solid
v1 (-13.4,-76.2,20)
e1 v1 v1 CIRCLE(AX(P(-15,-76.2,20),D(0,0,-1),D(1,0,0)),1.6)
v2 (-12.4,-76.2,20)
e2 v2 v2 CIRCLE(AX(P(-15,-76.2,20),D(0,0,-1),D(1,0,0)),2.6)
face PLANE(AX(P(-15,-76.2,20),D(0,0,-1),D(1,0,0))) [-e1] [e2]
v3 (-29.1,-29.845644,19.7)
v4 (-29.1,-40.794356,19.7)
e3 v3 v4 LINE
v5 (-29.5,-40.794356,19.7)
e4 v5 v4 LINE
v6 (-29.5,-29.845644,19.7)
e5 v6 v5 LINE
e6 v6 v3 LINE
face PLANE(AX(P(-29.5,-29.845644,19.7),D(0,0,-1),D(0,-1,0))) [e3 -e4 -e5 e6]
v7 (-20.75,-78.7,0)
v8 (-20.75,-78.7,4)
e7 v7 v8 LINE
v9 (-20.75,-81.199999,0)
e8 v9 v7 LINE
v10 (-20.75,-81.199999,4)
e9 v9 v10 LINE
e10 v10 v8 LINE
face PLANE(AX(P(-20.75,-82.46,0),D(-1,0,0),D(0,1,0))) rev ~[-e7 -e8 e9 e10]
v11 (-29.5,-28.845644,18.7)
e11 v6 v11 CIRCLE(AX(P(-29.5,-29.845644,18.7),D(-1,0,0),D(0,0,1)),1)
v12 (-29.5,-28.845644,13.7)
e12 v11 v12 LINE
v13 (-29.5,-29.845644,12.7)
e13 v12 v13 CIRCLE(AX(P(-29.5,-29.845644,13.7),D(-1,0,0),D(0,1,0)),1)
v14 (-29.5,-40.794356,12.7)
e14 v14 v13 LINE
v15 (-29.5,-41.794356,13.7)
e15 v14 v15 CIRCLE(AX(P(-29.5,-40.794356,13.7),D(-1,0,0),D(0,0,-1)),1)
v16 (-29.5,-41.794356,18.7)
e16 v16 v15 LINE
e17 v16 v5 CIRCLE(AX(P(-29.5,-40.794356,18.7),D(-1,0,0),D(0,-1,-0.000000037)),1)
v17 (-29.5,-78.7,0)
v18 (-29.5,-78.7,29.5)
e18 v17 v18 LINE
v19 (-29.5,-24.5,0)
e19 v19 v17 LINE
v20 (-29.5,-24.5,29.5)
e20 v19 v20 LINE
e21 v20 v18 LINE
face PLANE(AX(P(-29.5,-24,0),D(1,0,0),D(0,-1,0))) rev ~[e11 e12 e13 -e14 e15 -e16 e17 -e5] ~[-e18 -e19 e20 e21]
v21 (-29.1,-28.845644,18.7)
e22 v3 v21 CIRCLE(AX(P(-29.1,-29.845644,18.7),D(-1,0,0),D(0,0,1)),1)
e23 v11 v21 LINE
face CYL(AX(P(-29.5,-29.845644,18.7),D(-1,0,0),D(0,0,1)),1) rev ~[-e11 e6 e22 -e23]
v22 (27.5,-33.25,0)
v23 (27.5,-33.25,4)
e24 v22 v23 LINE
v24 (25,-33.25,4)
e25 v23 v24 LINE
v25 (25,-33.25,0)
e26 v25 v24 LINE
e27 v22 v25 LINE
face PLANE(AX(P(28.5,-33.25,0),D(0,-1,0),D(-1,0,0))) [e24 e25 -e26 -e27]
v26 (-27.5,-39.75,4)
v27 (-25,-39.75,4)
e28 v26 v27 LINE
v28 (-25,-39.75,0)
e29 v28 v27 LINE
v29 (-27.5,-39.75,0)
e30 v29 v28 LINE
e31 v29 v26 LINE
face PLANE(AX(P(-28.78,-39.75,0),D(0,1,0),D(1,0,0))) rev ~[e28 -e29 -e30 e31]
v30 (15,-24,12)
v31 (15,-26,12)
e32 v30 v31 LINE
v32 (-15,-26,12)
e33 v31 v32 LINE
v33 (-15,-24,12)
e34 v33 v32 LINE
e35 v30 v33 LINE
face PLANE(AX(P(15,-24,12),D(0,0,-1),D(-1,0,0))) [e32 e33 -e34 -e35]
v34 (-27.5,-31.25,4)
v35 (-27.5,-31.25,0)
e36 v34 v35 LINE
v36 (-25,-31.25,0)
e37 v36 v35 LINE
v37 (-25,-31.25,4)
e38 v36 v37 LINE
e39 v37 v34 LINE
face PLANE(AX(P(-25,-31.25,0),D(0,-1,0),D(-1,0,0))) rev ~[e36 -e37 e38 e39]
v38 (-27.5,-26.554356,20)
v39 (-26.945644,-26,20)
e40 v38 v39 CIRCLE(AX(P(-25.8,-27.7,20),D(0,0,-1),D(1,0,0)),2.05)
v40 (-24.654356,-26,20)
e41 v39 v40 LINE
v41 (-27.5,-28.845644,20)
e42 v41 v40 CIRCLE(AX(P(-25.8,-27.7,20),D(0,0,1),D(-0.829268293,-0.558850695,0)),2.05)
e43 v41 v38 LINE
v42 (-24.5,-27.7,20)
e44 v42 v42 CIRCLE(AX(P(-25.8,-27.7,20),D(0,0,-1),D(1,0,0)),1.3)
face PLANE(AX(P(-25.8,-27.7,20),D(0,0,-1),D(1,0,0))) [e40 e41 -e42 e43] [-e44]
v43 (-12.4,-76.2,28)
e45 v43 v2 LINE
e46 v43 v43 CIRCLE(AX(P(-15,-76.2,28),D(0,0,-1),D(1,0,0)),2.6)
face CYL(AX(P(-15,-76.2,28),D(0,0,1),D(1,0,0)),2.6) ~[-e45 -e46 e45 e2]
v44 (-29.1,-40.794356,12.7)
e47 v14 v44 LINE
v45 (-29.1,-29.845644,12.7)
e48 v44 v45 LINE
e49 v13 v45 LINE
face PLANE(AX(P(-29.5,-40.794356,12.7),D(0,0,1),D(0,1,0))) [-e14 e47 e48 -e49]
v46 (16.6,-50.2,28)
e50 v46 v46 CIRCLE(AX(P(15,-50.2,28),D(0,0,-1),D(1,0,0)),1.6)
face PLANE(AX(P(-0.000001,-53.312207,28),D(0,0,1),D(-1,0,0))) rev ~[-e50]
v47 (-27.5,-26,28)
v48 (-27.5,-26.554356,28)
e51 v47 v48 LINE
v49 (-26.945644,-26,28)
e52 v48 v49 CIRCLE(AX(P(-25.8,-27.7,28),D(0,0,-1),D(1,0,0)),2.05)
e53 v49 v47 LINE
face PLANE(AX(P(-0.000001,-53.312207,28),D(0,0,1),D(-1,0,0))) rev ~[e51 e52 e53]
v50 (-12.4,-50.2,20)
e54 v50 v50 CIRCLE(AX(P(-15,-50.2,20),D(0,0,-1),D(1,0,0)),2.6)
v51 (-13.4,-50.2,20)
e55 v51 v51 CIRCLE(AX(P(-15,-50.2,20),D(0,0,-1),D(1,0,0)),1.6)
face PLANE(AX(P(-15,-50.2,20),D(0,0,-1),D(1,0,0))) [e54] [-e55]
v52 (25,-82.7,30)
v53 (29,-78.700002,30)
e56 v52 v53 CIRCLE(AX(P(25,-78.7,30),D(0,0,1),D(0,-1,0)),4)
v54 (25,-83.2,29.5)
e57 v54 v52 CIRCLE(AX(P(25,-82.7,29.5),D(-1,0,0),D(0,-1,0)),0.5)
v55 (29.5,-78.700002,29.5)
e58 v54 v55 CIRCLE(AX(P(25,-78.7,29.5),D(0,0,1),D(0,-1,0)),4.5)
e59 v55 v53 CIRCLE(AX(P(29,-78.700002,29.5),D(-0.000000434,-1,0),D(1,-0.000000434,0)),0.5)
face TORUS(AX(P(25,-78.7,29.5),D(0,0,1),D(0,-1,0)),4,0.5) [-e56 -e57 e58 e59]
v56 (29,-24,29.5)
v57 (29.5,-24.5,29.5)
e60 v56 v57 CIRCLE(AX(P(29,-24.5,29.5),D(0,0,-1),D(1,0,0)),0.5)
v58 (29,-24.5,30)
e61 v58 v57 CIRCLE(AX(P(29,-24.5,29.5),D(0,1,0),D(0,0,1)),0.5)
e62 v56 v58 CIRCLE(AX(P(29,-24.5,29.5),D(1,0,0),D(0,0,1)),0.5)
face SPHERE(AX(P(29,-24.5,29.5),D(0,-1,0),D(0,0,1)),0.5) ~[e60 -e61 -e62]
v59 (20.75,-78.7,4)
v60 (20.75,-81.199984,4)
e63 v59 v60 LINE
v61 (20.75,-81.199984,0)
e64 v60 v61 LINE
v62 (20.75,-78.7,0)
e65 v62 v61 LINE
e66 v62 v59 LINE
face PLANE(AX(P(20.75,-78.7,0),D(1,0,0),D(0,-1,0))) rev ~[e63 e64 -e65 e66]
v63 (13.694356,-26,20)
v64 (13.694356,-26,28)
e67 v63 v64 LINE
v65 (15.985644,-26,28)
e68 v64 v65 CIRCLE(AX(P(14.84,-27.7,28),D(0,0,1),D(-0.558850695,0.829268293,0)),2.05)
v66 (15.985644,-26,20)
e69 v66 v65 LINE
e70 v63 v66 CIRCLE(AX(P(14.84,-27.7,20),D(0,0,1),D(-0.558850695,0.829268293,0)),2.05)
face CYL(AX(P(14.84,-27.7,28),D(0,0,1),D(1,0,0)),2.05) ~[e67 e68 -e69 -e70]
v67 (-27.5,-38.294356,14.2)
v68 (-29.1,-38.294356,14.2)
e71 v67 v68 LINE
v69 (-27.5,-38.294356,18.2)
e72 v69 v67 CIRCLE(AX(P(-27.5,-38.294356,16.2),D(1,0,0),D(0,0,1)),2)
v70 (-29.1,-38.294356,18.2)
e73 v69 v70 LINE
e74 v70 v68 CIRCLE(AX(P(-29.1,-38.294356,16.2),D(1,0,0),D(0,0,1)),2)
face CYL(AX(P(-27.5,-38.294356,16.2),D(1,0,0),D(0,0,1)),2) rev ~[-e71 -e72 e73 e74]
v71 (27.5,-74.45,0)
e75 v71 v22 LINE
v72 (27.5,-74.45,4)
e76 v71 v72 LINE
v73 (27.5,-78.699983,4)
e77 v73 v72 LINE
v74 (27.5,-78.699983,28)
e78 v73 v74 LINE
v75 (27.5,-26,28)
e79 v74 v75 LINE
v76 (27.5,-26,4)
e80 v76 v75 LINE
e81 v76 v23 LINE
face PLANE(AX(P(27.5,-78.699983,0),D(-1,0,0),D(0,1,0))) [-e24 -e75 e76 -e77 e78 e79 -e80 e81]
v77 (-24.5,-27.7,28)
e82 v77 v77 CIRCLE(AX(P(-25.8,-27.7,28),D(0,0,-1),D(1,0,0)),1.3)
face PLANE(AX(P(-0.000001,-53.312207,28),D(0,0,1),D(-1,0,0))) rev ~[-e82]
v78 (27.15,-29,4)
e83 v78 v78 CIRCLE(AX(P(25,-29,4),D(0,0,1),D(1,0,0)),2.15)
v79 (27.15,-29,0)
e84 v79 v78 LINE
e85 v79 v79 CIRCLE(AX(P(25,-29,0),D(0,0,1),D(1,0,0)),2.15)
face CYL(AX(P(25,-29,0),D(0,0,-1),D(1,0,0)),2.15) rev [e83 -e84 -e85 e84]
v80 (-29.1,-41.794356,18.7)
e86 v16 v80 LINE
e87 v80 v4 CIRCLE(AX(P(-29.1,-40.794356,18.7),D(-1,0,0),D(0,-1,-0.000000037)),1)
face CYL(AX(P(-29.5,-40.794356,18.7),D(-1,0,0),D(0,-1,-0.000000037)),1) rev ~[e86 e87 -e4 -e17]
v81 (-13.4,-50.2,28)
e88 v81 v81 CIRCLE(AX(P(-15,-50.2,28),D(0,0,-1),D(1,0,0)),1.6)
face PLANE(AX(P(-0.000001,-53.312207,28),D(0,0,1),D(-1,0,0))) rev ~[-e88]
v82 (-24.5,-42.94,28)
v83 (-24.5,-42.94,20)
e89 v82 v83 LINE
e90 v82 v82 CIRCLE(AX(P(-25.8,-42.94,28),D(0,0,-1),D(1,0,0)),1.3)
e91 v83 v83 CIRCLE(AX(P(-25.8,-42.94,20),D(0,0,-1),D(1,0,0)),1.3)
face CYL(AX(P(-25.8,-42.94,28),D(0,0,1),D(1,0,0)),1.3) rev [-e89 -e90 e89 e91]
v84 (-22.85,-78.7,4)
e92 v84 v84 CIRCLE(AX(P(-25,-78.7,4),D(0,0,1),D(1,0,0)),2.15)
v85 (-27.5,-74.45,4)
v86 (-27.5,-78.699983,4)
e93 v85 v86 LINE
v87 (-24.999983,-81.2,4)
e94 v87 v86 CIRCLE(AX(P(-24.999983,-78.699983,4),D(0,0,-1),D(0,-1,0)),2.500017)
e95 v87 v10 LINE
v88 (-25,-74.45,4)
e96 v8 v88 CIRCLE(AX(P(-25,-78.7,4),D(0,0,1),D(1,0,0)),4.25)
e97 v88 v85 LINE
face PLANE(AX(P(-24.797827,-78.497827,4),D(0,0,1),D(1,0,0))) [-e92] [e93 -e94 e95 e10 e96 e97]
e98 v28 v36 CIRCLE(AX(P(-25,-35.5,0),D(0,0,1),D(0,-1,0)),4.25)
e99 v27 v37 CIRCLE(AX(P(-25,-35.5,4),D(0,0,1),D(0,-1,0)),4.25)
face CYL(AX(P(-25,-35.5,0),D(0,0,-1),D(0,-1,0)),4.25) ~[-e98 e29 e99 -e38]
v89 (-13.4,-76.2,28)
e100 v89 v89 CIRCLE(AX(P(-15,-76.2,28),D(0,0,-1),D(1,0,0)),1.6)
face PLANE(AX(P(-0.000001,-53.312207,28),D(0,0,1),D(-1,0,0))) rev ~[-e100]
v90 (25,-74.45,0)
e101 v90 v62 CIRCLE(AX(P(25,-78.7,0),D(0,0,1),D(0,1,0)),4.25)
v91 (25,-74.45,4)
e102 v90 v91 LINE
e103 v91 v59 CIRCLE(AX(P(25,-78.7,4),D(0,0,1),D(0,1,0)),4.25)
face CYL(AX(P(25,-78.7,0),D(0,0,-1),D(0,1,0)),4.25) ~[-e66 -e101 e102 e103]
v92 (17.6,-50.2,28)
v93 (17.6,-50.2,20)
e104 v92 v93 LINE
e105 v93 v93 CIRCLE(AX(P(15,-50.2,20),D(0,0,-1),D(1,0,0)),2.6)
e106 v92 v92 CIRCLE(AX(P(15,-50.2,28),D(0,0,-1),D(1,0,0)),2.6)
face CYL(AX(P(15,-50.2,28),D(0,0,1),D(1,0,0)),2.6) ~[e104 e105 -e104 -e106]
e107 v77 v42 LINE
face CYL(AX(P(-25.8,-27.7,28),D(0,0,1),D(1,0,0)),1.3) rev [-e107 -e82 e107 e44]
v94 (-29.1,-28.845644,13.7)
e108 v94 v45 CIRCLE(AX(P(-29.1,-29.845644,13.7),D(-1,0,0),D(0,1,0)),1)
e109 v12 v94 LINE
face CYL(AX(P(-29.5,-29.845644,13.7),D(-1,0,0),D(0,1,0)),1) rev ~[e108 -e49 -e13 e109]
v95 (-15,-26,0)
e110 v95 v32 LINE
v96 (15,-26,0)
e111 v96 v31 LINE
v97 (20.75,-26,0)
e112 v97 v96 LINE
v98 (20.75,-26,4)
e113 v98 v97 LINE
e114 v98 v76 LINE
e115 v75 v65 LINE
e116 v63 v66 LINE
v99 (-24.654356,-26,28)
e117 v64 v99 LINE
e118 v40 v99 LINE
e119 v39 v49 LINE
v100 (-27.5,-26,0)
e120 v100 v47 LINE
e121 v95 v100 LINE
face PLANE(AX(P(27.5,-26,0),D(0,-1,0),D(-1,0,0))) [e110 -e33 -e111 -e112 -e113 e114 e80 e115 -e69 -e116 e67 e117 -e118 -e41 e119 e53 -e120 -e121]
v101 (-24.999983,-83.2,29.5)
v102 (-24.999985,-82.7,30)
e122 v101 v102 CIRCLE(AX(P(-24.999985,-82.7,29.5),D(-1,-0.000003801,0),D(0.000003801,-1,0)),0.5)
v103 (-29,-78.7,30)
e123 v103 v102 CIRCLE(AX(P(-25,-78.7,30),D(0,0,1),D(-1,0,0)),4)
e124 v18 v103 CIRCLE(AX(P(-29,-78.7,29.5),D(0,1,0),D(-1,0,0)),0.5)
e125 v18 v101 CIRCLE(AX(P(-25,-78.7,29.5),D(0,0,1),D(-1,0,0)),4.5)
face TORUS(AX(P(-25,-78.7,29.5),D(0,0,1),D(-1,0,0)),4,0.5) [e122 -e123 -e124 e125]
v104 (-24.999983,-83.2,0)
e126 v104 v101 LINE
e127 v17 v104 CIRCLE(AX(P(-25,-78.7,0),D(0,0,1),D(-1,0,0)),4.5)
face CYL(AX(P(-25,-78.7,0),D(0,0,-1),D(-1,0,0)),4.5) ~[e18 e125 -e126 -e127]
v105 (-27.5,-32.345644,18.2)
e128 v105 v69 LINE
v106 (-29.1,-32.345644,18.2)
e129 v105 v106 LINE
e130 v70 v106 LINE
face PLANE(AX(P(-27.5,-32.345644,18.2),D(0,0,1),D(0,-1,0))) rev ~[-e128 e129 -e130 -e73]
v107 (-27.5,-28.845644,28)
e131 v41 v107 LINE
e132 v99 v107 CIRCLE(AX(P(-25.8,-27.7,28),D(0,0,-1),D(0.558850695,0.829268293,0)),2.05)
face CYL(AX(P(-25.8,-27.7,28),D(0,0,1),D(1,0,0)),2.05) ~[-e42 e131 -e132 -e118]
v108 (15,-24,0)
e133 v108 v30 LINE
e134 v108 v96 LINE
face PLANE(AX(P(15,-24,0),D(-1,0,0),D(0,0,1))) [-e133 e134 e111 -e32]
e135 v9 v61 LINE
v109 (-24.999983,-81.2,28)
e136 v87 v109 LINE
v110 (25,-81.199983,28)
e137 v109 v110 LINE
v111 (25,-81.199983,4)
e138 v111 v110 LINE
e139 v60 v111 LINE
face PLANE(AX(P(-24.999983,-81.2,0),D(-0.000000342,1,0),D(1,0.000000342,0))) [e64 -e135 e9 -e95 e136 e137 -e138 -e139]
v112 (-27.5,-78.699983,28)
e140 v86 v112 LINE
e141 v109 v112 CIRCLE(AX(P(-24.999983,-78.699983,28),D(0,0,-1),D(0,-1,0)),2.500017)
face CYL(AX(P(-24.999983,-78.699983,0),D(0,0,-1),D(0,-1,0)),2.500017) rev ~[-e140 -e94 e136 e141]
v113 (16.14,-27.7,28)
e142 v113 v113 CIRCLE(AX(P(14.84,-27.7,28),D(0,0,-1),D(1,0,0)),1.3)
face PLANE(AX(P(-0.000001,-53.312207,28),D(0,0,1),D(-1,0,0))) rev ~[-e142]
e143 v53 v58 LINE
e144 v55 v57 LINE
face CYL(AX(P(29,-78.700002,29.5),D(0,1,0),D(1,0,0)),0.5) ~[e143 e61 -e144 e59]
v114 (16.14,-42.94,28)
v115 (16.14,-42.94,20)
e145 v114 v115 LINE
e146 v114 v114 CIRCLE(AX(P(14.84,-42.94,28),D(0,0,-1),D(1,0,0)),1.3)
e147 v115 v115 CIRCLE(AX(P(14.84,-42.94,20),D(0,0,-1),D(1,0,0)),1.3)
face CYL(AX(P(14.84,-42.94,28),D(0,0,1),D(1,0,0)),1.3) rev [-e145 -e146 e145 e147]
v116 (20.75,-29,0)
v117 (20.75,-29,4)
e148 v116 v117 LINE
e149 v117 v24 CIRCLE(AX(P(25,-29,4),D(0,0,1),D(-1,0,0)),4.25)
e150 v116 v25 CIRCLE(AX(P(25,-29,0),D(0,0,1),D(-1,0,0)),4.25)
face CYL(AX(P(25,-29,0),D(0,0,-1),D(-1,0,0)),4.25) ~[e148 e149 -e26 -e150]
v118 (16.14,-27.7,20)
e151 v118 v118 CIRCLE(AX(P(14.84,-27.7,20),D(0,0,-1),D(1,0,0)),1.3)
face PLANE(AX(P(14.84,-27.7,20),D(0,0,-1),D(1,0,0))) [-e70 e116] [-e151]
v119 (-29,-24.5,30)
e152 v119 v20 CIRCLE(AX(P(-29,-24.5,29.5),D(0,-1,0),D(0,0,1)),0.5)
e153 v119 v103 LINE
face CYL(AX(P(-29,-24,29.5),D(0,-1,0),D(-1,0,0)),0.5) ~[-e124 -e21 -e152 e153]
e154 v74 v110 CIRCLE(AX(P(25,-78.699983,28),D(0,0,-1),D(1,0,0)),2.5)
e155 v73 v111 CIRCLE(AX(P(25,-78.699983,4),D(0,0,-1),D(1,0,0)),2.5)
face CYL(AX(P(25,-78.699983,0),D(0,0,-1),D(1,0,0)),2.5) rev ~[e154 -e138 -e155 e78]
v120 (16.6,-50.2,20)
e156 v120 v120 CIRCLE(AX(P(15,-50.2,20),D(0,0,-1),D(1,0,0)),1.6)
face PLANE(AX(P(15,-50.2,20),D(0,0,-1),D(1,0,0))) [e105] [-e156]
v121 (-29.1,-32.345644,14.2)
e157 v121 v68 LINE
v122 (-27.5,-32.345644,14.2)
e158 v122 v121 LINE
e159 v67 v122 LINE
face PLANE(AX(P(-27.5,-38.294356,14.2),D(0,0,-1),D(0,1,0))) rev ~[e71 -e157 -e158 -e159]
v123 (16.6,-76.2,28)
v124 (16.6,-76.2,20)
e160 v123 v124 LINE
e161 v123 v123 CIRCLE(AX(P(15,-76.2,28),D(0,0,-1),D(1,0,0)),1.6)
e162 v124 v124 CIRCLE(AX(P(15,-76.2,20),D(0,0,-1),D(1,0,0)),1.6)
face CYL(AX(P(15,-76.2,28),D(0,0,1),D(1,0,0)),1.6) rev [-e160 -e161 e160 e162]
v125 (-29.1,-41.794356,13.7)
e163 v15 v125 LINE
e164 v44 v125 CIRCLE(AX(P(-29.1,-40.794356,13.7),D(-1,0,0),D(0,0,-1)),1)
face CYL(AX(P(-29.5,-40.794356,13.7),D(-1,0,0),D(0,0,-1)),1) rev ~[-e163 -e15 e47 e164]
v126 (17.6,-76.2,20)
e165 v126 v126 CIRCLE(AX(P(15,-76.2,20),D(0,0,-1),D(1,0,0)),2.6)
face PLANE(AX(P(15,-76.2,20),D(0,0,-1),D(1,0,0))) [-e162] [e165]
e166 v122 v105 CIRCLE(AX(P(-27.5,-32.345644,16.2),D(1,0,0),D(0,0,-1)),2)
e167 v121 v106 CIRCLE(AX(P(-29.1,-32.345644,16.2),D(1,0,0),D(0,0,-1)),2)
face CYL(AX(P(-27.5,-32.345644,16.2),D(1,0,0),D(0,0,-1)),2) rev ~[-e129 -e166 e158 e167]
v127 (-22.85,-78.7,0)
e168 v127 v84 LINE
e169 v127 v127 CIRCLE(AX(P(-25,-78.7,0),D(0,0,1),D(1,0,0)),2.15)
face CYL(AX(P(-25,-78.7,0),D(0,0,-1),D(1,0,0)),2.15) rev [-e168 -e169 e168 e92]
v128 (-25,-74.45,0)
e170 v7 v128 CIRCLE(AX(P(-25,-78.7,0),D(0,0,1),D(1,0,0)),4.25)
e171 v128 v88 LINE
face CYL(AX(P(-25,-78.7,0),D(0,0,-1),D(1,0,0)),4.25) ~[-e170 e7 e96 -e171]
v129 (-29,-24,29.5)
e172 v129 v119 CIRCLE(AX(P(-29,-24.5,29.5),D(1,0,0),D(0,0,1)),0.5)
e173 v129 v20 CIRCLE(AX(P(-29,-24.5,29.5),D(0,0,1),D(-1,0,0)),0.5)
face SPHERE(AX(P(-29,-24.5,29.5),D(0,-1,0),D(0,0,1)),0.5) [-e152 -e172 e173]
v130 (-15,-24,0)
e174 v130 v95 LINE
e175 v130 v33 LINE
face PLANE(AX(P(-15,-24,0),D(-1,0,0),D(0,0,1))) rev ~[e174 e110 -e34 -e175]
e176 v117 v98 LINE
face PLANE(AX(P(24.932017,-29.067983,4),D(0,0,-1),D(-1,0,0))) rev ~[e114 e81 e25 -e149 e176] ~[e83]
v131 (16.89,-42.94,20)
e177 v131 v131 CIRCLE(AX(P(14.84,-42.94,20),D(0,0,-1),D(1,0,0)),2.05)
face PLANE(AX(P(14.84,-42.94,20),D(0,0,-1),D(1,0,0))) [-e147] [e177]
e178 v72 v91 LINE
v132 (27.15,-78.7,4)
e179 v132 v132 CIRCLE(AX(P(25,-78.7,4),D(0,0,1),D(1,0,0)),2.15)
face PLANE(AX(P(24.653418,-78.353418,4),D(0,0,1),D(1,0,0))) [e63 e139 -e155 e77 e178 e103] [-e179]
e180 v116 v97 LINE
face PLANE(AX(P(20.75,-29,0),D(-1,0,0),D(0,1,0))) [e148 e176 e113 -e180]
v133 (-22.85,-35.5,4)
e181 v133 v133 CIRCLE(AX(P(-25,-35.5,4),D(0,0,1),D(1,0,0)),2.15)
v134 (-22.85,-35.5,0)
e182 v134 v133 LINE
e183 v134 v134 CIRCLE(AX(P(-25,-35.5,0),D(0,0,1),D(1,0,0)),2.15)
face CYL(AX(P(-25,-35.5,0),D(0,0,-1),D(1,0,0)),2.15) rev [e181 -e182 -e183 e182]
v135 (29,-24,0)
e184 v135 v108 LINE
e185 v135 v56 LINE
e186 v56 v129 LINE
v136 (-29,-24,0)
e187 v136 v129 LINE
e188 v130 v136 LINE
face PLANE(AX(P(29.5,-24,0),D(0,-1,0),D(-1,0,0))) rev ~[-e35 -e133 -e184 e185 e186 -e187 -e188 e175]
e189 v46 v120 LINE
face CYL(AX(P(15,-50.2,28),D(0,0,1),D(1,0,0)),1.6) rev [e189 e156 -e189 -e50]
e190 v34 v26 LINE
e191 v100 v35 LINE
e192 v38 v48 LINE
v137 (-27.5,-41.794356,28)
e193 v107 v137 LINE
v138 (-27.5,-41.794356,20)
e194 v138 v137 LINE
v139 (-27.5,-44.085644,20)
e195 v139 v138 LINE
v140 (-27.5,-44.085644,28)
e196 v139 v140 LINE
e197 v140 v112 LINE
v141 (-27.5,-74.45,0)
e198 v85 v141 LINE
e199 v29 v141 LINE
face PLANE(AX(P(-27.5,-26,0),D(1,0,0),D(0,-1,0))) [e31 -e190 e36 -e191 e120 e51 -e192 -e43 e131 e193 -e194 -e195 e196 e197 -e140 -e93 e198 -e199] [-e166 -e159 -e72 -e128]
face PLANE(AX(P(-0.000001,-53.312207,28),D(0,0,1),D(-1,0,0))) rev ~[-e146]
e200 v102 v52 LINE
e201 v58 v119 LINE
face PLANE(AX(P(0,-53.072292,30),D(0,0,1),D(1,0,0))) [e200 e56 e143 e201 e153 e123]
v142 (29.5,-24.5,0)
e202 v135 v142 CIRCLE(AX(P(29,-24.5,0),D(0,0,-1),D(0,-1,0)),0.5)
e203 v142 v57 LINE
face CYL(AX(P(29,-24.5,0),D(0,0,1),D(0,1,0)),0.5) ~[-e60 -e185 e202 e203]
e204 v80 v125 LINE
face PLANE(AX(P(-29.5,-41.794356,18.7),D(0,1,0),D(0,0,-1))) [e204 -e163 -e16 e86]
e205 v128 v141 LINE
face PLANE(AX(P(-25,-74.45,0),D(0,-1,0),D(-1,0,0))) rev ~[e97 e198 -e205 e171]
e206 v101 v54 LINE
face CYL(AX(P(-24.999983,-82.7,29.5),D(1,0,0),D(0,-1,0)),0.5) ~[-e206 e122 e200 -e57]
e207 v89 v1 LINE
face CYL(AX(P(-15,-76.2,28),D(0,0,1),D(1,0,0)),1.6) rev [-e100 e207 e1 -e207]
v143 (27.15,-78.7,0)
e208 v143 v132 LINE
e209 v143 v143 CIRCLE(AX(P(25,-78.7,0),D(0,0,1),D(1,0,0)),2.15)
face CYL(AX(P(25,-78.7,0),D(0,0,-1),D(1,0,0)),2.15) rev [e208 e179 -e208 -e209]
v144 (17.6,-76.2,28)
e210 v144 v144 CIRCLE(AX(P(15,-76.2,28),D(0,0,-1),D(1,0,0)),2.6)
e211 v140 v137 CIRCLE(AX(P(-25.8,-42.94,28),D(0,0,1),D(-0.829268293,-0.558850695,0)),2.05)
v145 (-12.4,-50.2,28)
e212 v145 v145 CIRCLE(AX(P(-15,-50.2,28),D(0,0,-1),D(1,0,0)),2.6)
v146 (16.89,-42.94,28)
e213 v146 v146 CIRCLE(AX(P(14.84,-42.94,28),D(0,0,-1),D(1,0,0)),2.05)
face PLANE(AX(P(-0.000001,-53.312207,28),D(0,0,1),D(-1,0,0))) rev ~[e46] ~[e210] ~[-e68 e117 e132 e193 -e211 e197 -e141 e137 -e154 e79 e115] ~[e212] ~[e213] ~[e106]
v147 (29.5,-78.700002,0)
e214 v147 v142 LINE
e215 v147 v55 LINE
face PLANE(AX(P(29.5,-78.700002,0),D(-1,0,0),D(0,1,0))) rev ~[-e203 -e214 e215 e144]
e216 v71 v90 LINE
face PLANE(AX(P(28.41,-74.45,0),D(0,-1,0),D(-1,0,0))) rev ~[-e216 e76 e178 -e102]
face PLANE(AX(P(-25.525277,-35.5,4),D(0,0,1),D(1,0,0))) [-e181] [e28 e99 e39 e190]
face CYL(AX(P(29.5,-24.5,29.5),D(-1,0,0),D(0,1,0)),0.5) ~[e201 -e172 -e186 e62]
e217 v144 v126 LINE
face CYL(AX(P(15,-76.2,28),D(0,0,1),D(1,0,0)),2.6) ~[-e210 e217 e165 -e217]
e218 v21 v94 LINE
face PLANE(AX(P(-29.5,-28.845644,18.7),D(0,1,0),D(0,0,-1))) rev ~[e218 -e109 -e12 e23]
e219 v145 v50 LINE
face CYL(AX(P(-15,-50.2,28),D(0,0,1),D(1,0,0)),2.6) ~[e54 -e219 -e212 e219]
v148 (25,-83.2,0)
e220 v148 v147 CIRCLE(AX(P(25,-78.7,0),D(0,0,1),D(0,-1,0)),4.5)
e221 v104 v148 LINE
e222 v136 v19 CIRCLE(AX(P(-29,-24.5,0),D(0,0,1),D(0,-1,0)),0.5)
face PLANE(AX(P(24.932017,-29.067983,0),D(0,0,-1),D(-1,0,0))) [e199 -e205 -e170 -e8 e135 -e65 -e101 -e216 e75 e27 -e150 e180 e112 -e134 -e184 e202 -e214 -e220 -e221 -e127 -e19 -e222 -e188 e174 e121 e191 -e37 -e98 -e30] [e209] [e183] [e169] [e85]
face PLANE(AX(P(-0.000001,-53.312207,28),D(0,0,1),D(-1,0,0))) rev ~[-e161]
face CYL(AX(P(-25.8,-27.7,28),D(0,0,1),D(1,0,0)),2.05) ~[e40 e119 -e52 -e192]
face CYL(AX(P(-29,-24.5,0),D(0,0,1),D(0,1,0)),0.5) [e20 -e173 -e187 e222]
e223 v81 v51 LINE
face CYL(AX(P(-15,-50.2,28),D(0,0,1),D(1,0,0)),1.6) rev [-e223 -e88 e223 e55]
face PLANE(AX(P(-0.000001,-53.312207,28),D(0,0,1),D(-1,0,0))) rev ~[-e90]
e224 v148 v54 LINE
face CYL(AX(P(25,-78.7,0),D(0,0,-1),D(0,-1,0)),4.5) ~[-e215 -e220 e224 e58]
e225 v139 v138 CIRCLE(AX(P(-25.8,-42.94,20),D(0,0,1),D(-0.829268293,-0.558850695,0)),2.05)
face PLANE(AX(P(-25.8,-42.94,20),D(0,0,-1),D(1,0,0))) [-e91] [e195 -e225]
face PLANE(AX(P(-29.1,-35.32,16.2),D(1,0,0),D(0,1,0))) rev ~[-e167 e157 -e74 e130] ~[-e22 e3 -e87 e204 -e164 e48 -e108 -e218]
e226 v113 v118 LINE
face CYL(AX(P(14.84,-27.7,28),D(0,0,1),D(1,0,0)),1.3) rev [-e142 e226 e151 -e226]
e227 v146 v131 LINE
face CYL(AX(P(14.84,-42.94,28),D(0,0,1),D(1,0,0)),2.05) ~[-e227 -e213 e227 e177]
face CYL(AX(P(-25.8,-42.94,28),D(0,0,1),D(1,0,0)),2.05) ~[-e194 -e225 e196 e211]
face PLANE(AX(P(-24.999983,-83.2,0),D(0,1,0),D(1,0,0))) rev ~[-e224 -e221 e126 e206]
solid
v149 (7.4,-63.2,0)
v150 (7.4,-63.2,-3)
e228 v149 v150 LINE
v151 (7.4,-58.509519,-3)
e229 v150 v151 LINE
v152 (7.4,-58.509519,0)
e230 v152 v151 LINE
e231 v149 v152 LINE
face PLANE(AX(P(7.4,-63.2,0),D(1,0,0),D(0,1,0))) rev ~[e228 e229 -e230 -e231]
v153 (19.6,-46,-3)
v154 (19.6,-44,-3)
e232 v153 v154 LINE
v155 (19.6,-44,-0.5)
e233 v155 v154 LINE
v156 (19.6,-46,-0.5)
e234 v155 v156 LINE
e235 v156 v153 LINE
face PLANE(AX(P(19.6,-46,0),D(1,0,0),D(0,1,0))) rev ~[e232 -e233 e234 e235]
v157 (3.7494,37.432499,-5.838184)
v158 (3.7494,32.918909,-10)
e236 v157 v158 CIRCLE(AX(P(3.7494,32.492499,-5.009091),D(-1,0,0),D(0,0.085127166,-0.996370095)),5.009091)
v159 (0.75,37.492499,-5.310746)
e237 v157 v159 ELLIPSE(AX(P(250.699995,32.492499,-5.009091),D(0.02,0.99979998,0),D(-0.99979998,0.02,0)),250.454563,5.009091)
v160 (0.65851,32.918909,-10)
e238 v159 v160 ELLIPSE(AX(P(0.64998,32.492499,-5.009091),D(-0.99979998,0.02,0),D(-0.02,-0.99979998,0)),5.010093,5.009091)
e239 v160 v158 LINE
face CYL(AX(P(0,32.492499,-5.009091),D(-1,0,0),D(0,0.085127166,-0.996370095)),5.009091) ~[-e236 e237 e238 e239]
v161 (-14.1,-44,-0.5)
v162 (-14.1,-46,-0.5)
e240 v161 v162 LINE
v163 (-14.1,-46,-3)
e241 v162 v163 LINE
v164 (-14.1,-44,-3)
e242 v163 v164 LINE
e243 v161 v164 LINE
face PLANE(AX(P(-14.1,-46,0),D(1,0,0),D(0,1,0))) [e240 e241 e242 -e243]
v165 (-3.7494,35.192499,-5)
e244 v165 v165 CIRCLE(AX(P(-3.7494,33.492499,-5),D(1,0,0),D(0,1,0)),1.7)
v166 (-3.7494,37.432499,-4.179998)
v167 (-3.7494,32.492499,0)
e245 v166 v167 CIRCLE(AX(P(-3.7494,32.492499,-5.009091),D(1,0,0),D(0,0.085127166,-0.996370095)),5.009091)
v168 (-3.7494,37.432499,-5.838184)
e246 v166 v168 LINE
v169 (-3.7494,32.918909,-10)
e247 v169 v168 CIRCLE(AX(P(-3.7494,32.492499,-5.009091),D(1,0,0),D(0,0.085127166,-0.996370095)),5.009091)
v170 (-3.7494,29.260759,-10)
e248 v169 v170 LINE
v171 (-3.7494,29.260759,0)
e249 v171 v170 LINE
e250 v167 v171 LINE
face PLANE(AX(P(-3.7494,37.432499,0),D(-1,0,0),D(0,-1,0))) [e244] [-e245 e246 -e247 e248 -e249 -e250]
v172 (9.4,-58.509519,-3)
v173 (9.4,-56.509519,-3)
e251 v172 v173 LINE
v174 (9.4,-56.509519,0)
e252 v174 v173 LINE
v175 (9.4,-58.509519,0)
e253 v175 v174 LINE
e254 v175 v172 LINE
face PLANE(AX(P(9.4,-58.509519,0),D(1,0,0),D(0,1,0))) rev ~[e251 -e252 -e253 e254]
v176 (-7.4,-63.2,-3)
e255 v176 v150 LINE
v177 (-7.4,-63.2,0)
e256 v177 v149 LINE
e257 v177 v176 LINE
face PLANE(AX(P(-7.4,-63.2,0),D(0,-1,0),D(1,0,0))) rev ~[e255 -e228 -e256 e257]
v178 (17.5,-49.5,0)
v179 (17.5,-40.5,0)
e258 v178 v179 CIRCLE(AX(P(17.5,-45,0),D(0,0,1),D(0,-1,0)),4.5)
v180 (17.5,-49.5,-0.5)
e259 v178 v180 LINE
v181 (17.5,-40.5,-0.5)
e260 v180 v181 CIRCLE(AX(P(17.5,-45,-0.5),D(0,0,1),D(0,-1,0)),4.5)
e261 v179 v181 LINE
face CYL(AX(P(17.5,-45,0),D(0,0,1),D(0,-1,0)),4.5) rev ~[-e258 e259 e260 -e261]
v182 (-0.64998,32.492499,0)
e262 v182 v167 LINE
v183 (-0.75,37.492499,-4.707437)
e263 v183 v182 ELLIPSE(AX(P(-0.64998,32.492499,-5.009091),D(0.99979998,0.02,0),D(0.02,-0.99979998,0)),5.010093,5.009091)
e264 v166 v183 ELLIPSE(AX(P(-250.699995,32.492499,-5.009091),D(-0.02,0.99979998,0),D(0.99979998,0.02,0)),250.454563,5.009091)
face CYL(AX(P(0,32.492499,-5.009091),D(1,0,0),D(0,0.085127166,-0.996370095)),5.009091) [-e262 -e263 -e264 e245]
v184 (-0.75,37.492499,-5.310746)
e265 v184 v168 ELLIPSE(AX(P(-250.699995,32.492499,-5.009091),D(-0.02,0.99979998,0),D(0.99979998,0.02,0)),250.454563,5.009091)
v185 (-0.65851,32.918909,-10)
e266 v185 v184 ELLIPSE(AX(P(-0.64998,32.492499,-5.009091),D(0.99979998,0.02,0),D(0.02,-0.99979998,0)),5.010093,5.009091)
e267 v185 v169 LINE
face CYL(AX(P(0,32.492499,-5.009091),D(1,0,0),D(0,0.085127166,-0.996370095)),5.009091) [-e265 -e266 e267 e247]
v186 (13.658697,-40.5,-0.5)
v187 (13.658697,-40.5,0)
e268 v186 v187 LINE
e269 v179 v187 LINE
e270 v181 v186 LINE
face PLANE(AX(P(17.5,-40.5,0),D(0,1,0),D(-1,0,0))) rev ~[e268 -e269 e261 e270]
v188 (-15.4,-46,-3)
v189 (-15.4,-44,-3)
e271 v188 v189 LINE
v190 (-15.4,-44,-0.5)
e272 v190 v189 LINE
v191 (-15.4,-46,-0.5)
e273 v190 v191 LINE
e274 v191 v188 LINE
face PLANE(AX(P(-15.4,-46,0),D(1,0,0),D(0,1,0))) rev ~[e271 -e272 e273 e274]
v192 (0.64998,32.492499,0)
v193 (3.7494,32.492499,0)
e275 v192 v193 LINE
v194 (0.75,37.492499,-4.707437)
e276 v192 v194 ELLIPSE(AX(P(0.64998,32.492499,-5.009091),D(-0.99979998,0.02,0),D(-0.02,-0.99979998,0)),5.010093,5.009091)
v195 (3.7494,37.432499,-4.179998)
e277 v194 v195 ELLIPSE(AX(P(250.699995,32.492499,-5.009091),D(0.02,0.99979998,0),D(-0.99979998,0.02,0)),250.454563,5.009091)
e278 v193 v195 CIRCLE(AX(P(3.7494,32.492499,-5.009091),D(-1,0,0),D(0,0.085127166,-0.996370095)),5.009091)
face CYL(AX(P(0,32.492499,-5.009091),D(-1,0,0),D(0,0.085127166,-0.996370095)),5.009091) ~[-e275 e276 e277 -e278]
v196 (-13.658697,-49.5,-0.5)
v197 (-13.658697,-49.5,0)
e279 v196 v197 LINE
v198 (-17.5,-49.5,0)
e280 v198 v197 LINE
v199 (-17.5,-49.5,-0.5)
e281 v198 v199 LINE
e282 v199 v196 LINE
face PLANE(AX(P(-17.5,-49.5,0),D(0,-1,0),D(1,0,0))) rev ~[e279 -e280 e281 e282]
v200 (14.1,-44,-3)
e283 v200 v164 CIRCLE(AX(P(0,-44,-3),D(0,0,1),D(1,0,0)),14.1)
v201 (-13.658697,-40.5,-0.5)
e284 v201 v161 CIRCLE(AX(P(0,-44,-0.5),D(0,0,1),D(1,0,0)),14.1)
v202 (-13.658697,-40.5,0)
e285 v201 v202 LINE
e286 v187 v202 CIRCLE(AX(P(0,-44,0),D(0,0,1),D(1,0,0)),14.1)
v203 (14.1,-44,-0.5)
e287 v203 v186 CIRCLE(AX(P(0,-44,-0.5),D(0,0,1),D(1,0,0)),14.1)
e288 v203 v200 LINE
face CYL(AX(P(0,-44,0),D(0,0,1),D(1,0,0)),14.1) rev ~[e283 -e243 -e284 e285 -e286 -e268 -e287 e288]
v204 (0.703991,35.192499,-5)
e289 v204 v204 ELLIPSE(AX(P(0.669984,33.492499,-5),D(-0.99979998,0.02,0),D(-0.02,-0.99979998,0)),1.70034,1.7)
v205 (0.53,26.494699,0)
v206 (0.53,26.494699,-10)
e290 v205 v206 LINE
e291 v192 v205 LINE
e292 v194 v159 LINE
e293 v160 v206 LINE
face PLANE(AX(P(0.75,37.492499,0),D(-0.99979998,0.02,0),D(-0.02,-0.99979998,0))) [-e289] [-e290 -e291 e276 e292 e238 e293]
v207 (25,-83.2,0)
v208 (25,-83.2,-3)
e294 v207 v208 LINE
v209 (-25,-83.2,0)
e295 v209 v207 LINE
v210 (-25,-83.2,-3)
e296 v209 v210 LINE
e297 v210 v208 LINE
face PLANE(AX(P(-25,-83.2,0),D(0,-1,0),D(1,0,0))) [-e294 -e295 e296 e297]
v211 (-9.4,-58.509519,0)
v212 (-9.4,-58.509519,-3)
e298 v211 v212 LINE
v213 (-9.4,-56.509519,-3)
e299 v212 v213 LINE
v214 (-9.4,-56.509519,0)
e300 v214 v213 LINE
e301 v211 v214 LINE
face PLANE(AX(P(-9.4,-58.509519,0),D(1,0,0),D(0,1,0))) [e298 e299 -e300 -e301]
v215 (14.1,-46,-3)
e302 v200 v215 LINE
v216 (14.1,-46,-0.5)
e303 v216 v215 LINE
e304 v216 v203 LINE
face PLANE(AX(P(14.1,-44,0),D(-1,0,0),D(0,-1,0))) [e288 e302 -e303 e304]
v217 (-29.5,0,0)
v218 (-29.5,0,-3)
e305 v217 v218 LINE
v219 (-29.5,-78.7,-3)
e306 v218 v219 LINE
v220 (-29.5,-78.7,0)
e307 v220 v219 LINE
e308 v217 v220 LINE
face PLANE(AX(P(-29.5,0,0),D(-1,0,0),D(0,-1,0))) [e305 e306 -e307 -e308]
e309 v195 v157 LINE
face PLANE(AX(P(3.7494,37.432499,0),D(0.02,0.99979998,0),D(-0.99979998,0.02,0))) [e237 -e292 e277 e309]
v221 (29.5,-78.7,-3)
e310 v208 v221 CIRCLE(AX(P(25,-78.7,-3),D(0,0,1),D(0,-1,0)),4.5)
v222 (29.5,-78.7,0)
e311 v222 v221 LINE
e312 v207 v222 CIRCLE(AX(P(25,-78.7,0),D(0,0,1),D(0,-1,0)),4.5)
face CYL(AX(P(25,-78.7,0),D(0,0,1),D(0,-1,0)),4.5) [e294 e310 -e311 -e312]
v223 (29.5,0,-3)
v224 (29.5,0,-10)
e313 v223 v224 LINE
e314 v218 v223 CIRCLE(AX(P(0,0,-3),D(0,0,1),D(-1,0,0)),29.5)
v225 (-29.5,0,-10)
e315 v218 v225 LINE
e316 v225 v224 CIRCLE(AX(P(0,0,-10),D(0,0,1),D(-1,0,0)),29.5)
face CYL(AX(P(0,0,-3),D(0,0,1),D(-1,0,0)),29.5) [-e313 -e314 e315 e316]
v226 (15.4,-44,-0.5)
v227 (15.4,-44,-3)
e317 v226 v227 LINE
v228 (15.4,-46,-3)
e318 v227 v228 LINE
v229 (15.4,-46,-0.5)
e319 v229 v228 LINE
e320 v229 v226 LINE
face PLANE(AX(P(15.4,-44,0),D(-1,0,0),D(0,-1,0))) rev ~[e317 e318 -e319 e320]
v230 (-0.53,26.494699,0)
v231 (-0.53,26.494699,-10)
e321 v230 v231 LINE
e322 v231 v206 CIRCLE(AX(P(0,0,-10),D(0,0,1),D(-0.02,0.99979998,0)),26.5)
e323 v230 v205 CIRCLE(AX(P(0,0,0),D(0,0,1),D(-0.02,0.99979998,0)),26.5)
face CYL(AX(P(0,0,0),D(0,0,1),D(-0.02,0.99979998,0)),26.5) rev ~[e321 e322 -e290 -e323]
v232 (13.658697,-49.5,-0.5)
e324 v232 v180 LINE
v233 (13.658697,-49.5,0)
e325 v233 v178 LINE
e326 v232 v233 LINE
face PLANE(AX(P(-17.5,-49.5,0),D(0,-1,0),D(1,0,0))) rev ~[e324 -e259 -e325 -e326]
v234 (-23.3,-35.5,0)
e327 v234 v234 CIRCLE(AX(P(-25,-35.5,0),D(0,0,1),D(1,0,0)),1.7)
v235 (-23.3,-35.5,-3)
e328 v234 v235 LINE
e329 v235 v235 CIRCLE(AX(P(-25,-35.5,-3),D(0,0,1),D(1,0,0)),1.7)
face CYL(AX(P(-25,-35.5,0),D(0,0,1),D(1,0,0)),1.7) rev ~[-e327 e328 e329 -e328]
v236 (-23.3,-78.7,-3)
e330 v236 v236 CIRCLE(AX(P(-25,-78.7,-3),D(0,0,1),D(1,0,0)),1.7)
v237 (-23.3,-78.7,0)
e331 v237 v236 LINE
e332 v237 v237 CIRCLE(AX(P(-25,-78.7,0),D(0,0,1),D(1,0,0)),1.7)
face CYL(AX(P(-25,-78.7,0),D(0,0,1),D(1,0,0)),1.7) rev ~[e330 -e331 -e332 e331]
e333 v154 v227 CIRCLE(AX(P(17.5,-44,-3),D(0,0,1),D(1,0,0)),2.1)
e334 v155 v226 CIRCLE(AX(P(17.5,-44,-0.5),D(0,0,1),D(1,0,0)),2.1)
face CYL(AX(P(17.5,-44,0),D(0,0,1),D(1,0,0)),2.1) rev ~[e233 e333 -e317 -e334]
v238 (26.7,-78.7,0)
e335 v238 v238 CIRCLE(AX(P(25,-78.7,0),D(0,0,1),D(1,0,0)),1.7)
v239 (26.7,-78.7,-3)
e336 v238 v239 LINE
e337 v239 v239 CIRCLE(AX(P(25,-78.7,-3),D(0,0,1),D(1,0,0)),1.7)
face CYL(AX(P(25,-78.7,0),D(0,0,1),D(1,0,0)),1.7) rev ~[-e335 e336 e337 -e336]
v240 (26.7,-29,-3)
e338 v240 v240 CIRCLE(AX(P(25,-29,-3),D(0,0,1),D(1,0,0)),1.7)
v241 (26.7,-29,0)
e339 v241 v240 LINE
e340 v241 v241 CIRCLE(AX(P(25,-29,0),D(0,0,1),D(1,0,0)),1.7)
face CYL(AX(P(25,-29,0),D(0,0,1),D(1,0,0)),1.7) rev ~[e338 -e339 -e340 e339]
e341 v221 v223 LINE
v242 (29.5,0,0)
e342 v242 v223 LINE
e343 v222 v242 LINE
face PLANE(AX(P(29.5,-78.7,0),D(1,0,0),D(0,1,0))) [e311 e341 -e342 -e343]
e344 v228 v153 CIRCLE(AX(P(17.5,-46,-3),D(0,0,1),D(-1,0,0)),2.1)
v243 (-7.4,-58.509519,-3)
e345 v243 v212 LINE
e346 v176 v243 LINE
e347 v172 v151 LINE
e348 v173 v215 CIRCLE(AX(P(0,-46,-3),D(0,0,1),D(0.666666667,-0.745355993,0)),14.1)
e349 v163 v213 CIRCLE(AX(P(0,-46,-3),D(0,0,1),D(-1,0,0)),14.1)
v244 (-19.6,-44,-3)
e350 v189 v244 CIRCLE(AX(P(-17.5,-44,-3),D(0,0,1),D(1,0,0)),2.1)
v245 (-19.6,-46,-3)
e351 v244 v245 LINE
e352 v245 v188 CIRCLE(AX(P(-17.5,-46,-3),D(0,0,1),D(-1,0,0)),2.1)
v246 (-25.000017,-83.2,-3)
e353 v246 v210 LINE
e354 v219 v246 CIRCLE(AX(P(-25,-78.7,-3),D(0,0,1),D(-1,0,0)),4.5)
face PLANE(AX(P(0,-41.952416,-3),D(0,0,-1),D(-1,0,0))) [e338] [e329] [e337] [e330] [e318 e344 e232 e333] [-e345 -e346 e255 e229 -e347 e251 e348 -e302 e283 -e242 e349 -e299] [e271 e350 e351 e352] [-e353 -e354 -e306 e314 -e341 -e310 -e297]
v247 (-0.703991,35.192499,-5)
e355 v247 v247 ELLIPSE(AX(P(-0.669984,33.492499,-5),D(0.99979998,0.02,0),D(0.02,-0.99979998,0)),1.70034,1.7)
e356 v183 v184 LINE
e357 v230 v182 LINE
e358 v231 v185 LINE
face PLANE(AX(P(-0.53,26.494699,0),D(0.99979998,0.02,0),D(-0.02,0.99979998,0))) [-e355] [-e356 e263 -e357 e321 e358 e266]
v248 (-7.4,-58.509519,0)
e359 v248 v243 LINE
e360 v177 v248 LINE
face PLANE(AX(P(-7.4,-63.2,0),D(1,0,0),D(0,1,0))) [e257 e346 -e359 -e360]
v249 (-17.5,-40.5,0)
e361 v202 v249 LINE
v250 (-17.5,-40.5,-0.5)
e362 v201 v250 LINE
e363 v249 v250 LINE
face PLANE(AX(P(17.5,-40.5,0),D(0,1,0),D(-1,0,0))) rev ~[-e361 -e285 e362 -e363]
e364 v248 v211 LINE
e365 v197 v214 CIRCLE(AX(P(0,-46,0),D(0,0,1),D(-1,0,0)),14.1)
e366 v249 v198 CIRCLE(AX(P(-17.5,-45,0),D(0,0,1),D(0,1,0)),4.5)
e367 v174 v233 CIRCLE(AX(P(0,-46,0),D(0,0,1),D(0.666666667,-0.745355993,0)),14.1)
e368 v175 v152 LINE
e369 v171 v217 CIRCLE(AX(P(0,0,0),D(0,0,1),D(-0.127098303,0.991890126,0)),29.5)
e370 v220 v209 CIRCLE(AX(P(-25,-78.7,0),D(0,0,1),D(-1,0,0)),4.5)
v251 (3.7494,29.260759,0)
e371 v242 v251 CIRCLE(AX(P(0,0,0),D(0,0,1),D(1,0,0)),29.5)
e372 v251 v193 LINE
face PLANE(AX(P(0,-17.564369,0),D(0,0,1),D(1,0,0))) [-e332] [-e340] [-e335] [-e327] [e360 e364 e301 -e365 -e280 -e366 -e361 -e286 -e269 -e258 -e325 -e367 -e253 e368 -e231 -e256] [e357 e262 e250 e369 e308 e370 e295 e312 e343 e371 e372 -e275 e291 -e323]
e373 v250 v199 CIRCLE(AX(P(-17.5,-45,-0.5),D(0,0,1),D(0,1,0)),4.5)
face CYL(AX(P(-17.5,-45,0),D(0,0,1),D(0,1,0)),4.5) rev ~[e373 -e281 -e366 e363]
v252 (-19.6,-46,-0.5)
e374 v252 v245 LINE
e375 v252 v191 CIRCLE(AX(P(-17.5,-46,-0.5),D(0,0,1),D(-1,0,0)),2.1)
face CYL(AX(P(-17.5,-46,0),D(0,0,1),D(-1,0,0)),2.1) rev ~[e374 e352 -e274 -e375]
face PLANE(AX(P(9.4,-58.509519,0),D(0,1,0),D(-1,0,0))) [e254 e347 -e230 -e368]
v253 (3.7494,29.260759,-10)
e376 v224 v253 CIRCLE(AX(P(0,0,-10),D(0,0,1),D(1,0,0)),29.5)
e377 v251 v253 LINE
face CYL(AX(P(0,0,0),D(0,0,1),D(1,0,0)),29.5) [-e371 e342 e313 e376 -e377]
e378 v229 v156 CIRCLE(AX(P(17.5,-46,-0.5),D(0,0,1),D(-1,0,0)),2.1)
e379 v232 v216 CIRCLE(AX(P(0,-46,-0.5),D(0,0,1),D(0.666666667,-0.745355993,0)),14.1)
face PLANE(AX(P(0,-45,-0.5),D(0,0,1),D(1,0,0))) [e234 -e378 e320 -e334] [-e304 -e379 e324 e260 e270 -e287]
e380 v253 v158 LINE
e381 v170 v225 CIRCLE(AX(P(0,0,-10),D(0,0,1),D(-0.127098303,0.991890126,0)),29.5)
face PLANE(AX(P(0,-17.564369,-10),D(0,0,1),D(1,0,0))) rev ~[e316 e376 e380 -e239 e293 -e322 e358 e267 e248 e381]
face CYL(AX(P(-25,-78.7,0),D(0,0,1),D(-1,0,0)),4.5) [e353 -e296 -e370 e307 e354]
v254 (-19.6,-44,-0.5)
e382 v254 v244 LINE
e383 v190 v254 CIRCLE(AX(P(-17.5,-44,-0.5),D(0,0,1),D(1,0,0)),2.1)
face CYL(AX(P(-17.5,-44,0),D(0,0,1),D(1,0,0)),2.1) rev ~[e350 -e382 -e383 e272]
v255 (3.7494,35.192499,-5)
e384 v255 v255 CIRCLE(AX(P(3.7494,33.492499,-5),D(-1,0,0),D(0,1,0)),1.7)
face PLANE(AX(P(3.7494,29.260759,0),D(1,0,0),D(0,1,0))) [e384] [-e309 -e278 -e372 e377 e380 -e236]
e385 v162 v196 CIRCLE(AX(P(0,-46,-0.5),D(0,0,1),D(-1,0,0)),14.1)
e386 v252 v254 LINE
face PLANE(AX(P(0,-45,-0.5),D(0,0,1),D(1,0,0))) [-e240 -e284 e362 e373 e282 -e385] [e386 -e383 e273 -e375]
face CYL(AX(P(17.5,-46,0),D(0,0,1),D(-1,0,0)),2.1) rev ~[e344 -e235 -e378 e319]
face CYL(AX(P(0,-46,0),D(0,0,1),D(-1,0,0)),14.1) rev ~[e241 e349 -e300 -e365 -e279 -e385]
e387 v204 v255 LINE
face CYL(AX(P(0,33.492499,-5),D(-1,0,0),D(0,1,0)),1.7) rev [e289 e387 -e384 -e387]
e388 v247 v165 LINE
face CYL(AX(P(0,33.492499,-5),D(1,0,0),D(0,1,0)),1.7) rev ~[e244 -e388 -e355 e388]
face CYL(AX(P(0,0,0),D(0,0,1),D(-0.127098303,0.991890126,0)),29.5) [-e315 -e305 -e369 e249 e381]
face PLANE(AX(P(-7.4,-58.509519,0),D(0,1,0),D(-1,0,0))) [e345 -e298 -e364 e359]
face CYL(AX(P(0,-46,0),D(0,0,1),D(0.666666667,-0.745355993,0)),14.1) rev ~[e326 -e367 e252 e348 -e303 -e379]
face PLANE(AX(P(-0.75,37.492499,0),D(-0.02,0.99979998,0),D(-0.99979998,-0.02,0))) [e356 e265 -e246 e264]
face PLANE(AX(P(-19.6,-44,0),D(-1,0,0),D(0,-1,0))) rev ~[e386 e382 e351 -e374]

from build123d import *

# Parameters (mm, degrees)
SKETCH_R             = 1.7
PAD_DEPTH            = 10
POCKET_DEPTH         = 7.001
POCKET001_DEPTH      = 0.5
SKETCH003_W          = 6
SKETCH003_H          = 5
POCKET002_DEPTH      = 22.101
SKETCH011_R          = 1.7
POCKET007_DEPTH      = 6
POCKET007_DEPTH_BACK = 5
PAD001_DEPTH         = 30
POCKET004_DEPTH      = 28
SKETCH007_R          = 2.05
SKETCH007_R_2        = 1.3
SKETCH007_R_3        = 2.6
SKETCH007_R_4        = 1.6
PAD002_DEPTH         = 8
POCKET005_DEPTH      = 5
POCKET006_DEPTH      = 0.4
SKETCH010_R          = 2.15
PAD003_DEPTH         = 4
SKETCH012_W          = 30
SKETCH012_H          = 12
POCKET008_DEPTH      = 2
FILLET_R             = 0.5


with BuildPart() as base:
    # Sketch → Pad (new body)
    with BuildSketch(Plane.XY):
        with BuildLine():
            Line((-25, -83.2), (25, -83.2))
            ThreePointArc((25, -83.2), (28.1819805153, -81.8819805153), (29.5, -78.7))
            Line((29.5, -78.7), (29.5, 0))
            ThreePointArc((29.5, 0), (22.1456237012, 19.4890058978), (3.74939994, 29.2607587067))
            Line((3.74939994, 29.2607587067), (3.74939994, 37.4324992498))
            Line((3.74939994, 37.4324992498), (0.75, 37.4924992498))
            Line((0.75, 37.4924992498), (0.53, 26.4946994699))
            ThreePointArc((-0.53, 26.4946994699), (0, -26.5), (0.53, 26.4946994699))
            Line((-0.53, 26.4946994699), (-0.75, 37.4924992498))
            Line((-0.75, 37.4924992498), (-3.74939994, 37.4324992498))
            Line((-3.74939994, 37.4324992498), (-3.74939994, 29.2607587067))
            ThreePointArc((-3.74939994, 29.2607587067), (-22.1456237012, 19.4890058978), (-29.5, 0))
            Line((-29.5, 0), (-29.5, -78.7))
            ThreePointArc((-29.5, -78.7), (-28.1819805153, -81.8819805153), (-25, -83.2))
        make_face()
        with Locations((-25, -78.7)):
            Circle(SKETCH_R, mode=Mode.SUBTRACT)
        with Locations((25, -78.7)):
            Circle(SKETCH_R, mode=Mode.SUBTRACT)
        with Locations((-25, -35.5)):
            Circle(SKETCH_R, mode=Mode.SUBTRACT)
        with Locations((25, -29)):
            Circle(SKETCH_R, mode=Mode.SUBTRACT)
        with BuildLine():
            Line((-7.4, -63.2), (7.4, -63.2))
            Line((7.4, -63.2), (7.4, -58.5095194943))
            Line((9.4, -58.5095194943), (7.4, -58.5095194943))
            Line((9.4, -58.5095194943), (9.4, -56.5095194943))
            ThreePointArc((9.4, -56.5095194943), (12.8714801014, -51.7563008956), (14.1, -46))
            Line((14.1, -44), (14.1, -46))
            ThreePointArc((14.1, -44), (0, -29.9), (-14.1, -44))
            Line((-14.1, -46), (-14.1, -44))
            ThreePointArc((-14.1, -46), (-12.8714801014, -51.7563008955), (-9.4, -56.5095194943))
            Line((-9.4, -58.5095194943), (-9.4, -56.5095194943))
            Line((-7.4, -58.5095194943), (-9.4, -58.5095194943))
            Line((-7.4, -63.2), (-7.4, -58.5095194943))
        make_face(mode=Mode.SUBTRACT)
        with BuildLine():
            ThreePointArc((19.6, -44), (17.5, -41.9), (15.4, -44))
            Line((15.4, -44), (15.4, -46))
            ThreePointArc((15.4, -46), (17.5, -48.1), (19.6, -46))
            Line((19.6, -46), (19.6, -44))
        make_face(mode=Mode.SUBTRACT)
        with BuildLine():
            ThreePointArc((-15.4, -44), (-17.5, -41.9), (-19.6, -44))
            Line((-19.6, -44), (-19.6, -46))
            ThreePointArc((-19.6, -46), (-17.5, -48.1), (-15.4, -46))
            Line((-15.4, -46), (-15.4, -44))
        make_face(mode=Mode.SUBTRACT)
    extrude(amount=-PAD_DEPTH)

    # Sketch001 → Pocket (cut, through all)
    with BuildSketch(Plane.XY.offset(-3)):
        with BuildLine():
            ThreePointArc((-29.5, 0), (0, -29.5), (29.5, 0))
            Line((29.5, -78.7), (29.5, 0))
            ThreePointArc((25, -83.2), (28.1819805153, -81.8819805153), (29.5, -78.7))
            Line((-25.0000165839, -83.2), (25, -83.2))
            ThreePointArc((-29.5, -78.7), (-28.1819863786, -81.881974652), (-25.0000165839, -83.2))
            Line((-29.5, 0), (-29.5, -78.7))
        make_face()
    extrude(amount=-POCKET_DEPTH, mode=Mode.SUBTRACT)

    # Sketch002 (on Face4 of Pocket) → Pocket001 (cut)
    with BuildSketch(Plane.XY):
        with BuildLine():
            ThreePointArc((17.5, -49.5), (22, -45), (17.5, -40.5))
            Line((17.5, -40.5), (-17.5, -40.5))
            ThreePointArc((-17.5, -40.5), (-22, -45), (-17.5, -49.5))
            Line((-17.5, -49.5), (17.5, -49.5))
        make_face()
    extrude(amount=-POCKET001_DEPTH, mode=Mode.SUBTRACT)

    # Sketch003 → Pocket002 (cut, through all)
    with BuildSketch(Plane.YZ.offset(-7.4)):
        with Locations((0, -64.5)):
            Rectangle(SKETCH003_W, SKETCH003_H)
    extrude(amount=-POCKET002_DEPTH, mode=Mode.SUBTRACT)

    # Sketch011 → Pocket007 (cut, two sides)
    with BuildSketch(Plane.YZ) as pocket007_sk:
        with Locations((33.4924992498, -5)):
            Circle(SKETCH011_R)
        with BuildLine():
            Line((32.4924992498, 1.333875), (32.4924992498, 0))
            ThreePointArc((32.9189089943, -10), (37.4970428172, -4.7956926491), (32.4924992498, 0))
            Line((32.9189089943, -10), (32.809612, -11.693628))
            Line((32.809612, -11.693628), (39.610278, -11.693628))
            Line((39.610278, -11.693628), (40.243954, 1.333875))
            Line((40.243954, 1.333875), (32.4924992498, 1.333875))
        make_face()
    extrude(amount=-POCKET007_DEPTH, mode=Mode.SUBTRACT)
    extrude(pocket007_sk.sketch, amount=POCKET007_DEPTH_BACK, mode=Mode.SUBTRACT)


with BuildPart() as body001:
    # Sketch005 → Pad001 (new body)
    with BuildSketch(Plane.XY):
        with BuildLine():
            Line((29.5, -24), (-29.5, -24))
            Line((-29.5, -24), (-29.5, -78.7))
            ThreePointArc((-29.5, -78.7), (-28.1819744687, -81.881986562), (-24.9999828975, -83.2))
            Line((-24.9999828975, -83.2), (25, -83.2))
            ThreePointArc((25, -83.2), (28.1819798244, -81.8819812063), (29.5, -78.7000019544))
            Line((29.5, -78.7000019544), (29.5, -24))
        make_face()
    extrude(amount=PAD001_DEPTH)

    # Sketch006 (on Face7 of Pad001) → Pocket004 (cut)
    with BuildSketch(Plane(origin=(0, 0, 0), x_dir=(1, 0, 0), z_dir=(0, 0, -1))):
        with BuildLine():
            Line((-27.5, 26), (-27.5, 78.6999828975))
            ThreePointArc((-24.9999828975, 81.2), (-26.7677619438, 80.4677619438), (-27.5, 78.6999828975))
            Line((-24.9999828975, 81.2), (25, 81.1999828975))
            ThreePointArc((27.5, 78.6999828975), (26.767766953, 80.4677498505), (25, 81.1999828975))
            Line((27.5, 78.6999828975), (27.5, 26))
            Line((27.5, 26), (-27.5, 26))
        make_face()
    extrude(amount=-POCKET004_DEPTH, mode=Mode.SUBTRACT)

    # Sketch007 (on Face15 of Pocket004) → Pad002 (join)
    with BuildSketch(Plane(origin=(0, 0, 28), x_dir=(1, 0, 0), z_dir=(0, 0, -1))):
        with Locations((-25.8, 27.7)):
            Circle(SKETCH007_R)
        with Locations((-25.8, 27.7)):
            Circle(SKETCH007_R_2, mode=Mode.SUBTRACT)
        with Locations((14.84, 27.7)):
            Circle(SKETCH007_R)
        with Locations((14.84, 27.7)):
            Circle(SKETCH007_R_2, mode=Mode.SUBTRACT)
        with Locations((-25.8, 42.94)):
            Circle(SKETCH007_R)
        with Locations((-25.8, 42.94)):
            Circle(SKETCH007_R_2, mode=Mode.SUBTRACT)
        with Locations((14.84, 42.94)):
            Circle(SKETCH007_R)
        with Locations((14.84, 42.94)):
            Circle(SKETCH007_R_2, mode=Mode.SUBTRACT)
        with Locations((-15, 76.2)):
            Circle(SKETCH007_R_3)
        with Locations((-15, 76.2)):
            Circle(SKETCH007_R_4, mode=Mode.SUBTRACT)
        with Locations((15, 76.2)):
            Circle(SKETCH007_R_3)
        with Locations((15, 76.2)):
            Circle(SKETCH007_R_4, mode=Mode.SUBTRACT)
        with Locations((15, 50.2)):
            Circle(SKETCH007_R_3)
        with Locations((15, 50.2)):
            Circle(SKETCH007_R_4, mode=Mode.SUBTRACT)
        with Locations((-15, 50.2)):
            Circle(SKETCH007_R_3)
        with Locations((-15, 50.2)):
            Circle(SKETCH007_R_4, mode=Mode.SUBTRACT)
    extrude(amount=PAD002_DEPTH)

    # Sketch008 (on Face9 of Pad002) → Pocket005 (cut)
    with BuildSketch(Plane.YZ.offset(-27.5)):
        with BuildLine():
            Line((-32.3456439237, 18.2), (-38.2943560763, 18.2))
            ThreePointArc((-38.2943560763, 18.2), (-40.2943560763, 16.2), (-38.2943560763, 14.2))
            Line((-38.2943560763, 14.2), (-32.3456439237, 14.2))
            ThreePointArc((-32.3456439237, 14.2), (-30.3456439237, 16.2), (-32.3456439237, 18.2))
        make_face()
    extrude(amount=-POCKET005_DEPTH, mode=Mode.SUBTRACT)

    # Sketch009 (on Face3 of Pocket005) → Pocket006 (cut)
    with BuildSketch(Plane(origin=(-29.5, 0, 0), x_dir=(0, -1, 0), z_dir=(-1, 0, 0))):
        with BuildLine():
            Line((29.8456439237, 19.7), (40.7943560674, 19.7))
            ThreePointArc((41.7943560763, 18.699999963), (41.5014628674, 19.4071067712), (40.7943560674, 19.7))
            Line((41.7943560763, 18.699999963), (41.7943560763, 13.7))
            ThreePointArc((40.7943560763, 12.7), (41.5014628574, 12.9928932188), (41.7943560763, 13.7))
            Line((40.7943560763, 12.7), (29.8456439237, 12.7))
            ThreePointArc((28.8456439237, 13.7), (29.1385371426, 12.9928932188), (29.8456439237, 12.7))
            Line((28.8456439237, 18.7000000356), (28.8456439237, 13.7))
            ThreePointArc((29.8456439237, 19.7), (29.1385371551, 19.4071067938), (28.8456439237, 18.7000000356))
        make_face()
    extrude(amount=-POCKET006_DEPTH, mode=Mode.SUBTRACT)

    # Sketch010 → Pad003 (join)
    with BuildSketch(Plane.XY):
        with BuildLine():
            Line((20.75, -29), (20.75, -25.5))
            Line((20.75, -25.5), (28.5, -25.5))
            Line((28.5, -25.5), (28.5, -33.25))
            Line((28.5, -33.25), (25, -33.25))
            ThreePointArc((20.75, -29), (21.99479618, -32.00520382), (25, -33.25))
        make_face()
        with Locations((25, -29)):
            Circle(SKETCH010_R, mode=Mode.SUBTRACT)
        with BuildLine():
            ThreePointArc((-25, -39.75), (-20.75, -35.5), (-25, -31.25))
            Line((-25, -31.25), (-28.78, -31.25))
            Line((-28.78, -31.25), (-28.78, -39.75))
            Line((-28.78, -39.75), (-25, -39.75))
        make_face()
        with Locations((-25, -35.5)):
            Circle(SKETCH010_R, mode=Mode.SUBTRACT)
        with BuildLine():
            ThreePointArc((-20.75, -78.7), (-21.99479618, -75.69479618), (-25, -74.45))
            Line((-25, -74.45), (-28.76, -74.45))
            Line((-28.76, -74.45), (-28.76, -78.7))
            ThreePointArc((-28.76, -78.7), (-27.6587214973, -81.3587214973), (-25, -82.46))
            Line((-25, -82.46), (-20.75, -82.46))
            Line((-20.75, -82.46), (-20.75, -78.7))
        make_face()
        with Locations((-25, -78.7)):
            Circle(SKETCH010_R, mode=Mode.SUBTRACT)
        with BuildLine():
            ThreePointArc((25, -74.45), (21.99479618, -75.69479618), (20.75, -78.7))
            Line((20.75, -78.7), (20.75, -82.11))
            Line((20.75, -82.11), (25, -82.11))
            ThreePointArc((25, -82.11), (27.4112341238, -81.1112341238), (28.4099999998, -78.7))
            Line((28.4099999998, -78.7), (28.4099999998, -74.45))
            Line((28.4099999998, -74.45), (25, -74.45))
        make_face()
        with Locations((25, -78.7)):
            Circle(SKETCH010_R, mode=Mode.SUBTRACT)
    extrude(amount=PAD003_DEPTH)

    # Sketch012 (on Face19 of Pad003) → Pocket008 (cut)
    with BuildSketch(Plane(origin=(0, -24, 0), x_dir=(-1, 0, 0), z_dir=(0, 1, 0))):
        with Locations((0, 6)):
            Rectangle(SKETCH012_W, SKETCH012_H)
    extrude(amount=-POCKET008_DEPTH, mode=Mode.SUBTRACT)

    # Fillet
    fillet_edges = [body001.edges().sort_by_distance(p)[0] for p in [
        (9e-06, -83.2, 30),
        (28.18198, -81.881981, 30),
        (29.5, -51.350001, 30),
        (0, -24, 30),
        (-29.5, -51.35, 30),
        (-28.181974, -81.881987, 30),
        (29.5, -24, 15),
        (-29.5, -24, 15),
    ]]
    fillet(fillet_edges, radius=FILLET_R)


solid = Compound([base.part, body001.part])
